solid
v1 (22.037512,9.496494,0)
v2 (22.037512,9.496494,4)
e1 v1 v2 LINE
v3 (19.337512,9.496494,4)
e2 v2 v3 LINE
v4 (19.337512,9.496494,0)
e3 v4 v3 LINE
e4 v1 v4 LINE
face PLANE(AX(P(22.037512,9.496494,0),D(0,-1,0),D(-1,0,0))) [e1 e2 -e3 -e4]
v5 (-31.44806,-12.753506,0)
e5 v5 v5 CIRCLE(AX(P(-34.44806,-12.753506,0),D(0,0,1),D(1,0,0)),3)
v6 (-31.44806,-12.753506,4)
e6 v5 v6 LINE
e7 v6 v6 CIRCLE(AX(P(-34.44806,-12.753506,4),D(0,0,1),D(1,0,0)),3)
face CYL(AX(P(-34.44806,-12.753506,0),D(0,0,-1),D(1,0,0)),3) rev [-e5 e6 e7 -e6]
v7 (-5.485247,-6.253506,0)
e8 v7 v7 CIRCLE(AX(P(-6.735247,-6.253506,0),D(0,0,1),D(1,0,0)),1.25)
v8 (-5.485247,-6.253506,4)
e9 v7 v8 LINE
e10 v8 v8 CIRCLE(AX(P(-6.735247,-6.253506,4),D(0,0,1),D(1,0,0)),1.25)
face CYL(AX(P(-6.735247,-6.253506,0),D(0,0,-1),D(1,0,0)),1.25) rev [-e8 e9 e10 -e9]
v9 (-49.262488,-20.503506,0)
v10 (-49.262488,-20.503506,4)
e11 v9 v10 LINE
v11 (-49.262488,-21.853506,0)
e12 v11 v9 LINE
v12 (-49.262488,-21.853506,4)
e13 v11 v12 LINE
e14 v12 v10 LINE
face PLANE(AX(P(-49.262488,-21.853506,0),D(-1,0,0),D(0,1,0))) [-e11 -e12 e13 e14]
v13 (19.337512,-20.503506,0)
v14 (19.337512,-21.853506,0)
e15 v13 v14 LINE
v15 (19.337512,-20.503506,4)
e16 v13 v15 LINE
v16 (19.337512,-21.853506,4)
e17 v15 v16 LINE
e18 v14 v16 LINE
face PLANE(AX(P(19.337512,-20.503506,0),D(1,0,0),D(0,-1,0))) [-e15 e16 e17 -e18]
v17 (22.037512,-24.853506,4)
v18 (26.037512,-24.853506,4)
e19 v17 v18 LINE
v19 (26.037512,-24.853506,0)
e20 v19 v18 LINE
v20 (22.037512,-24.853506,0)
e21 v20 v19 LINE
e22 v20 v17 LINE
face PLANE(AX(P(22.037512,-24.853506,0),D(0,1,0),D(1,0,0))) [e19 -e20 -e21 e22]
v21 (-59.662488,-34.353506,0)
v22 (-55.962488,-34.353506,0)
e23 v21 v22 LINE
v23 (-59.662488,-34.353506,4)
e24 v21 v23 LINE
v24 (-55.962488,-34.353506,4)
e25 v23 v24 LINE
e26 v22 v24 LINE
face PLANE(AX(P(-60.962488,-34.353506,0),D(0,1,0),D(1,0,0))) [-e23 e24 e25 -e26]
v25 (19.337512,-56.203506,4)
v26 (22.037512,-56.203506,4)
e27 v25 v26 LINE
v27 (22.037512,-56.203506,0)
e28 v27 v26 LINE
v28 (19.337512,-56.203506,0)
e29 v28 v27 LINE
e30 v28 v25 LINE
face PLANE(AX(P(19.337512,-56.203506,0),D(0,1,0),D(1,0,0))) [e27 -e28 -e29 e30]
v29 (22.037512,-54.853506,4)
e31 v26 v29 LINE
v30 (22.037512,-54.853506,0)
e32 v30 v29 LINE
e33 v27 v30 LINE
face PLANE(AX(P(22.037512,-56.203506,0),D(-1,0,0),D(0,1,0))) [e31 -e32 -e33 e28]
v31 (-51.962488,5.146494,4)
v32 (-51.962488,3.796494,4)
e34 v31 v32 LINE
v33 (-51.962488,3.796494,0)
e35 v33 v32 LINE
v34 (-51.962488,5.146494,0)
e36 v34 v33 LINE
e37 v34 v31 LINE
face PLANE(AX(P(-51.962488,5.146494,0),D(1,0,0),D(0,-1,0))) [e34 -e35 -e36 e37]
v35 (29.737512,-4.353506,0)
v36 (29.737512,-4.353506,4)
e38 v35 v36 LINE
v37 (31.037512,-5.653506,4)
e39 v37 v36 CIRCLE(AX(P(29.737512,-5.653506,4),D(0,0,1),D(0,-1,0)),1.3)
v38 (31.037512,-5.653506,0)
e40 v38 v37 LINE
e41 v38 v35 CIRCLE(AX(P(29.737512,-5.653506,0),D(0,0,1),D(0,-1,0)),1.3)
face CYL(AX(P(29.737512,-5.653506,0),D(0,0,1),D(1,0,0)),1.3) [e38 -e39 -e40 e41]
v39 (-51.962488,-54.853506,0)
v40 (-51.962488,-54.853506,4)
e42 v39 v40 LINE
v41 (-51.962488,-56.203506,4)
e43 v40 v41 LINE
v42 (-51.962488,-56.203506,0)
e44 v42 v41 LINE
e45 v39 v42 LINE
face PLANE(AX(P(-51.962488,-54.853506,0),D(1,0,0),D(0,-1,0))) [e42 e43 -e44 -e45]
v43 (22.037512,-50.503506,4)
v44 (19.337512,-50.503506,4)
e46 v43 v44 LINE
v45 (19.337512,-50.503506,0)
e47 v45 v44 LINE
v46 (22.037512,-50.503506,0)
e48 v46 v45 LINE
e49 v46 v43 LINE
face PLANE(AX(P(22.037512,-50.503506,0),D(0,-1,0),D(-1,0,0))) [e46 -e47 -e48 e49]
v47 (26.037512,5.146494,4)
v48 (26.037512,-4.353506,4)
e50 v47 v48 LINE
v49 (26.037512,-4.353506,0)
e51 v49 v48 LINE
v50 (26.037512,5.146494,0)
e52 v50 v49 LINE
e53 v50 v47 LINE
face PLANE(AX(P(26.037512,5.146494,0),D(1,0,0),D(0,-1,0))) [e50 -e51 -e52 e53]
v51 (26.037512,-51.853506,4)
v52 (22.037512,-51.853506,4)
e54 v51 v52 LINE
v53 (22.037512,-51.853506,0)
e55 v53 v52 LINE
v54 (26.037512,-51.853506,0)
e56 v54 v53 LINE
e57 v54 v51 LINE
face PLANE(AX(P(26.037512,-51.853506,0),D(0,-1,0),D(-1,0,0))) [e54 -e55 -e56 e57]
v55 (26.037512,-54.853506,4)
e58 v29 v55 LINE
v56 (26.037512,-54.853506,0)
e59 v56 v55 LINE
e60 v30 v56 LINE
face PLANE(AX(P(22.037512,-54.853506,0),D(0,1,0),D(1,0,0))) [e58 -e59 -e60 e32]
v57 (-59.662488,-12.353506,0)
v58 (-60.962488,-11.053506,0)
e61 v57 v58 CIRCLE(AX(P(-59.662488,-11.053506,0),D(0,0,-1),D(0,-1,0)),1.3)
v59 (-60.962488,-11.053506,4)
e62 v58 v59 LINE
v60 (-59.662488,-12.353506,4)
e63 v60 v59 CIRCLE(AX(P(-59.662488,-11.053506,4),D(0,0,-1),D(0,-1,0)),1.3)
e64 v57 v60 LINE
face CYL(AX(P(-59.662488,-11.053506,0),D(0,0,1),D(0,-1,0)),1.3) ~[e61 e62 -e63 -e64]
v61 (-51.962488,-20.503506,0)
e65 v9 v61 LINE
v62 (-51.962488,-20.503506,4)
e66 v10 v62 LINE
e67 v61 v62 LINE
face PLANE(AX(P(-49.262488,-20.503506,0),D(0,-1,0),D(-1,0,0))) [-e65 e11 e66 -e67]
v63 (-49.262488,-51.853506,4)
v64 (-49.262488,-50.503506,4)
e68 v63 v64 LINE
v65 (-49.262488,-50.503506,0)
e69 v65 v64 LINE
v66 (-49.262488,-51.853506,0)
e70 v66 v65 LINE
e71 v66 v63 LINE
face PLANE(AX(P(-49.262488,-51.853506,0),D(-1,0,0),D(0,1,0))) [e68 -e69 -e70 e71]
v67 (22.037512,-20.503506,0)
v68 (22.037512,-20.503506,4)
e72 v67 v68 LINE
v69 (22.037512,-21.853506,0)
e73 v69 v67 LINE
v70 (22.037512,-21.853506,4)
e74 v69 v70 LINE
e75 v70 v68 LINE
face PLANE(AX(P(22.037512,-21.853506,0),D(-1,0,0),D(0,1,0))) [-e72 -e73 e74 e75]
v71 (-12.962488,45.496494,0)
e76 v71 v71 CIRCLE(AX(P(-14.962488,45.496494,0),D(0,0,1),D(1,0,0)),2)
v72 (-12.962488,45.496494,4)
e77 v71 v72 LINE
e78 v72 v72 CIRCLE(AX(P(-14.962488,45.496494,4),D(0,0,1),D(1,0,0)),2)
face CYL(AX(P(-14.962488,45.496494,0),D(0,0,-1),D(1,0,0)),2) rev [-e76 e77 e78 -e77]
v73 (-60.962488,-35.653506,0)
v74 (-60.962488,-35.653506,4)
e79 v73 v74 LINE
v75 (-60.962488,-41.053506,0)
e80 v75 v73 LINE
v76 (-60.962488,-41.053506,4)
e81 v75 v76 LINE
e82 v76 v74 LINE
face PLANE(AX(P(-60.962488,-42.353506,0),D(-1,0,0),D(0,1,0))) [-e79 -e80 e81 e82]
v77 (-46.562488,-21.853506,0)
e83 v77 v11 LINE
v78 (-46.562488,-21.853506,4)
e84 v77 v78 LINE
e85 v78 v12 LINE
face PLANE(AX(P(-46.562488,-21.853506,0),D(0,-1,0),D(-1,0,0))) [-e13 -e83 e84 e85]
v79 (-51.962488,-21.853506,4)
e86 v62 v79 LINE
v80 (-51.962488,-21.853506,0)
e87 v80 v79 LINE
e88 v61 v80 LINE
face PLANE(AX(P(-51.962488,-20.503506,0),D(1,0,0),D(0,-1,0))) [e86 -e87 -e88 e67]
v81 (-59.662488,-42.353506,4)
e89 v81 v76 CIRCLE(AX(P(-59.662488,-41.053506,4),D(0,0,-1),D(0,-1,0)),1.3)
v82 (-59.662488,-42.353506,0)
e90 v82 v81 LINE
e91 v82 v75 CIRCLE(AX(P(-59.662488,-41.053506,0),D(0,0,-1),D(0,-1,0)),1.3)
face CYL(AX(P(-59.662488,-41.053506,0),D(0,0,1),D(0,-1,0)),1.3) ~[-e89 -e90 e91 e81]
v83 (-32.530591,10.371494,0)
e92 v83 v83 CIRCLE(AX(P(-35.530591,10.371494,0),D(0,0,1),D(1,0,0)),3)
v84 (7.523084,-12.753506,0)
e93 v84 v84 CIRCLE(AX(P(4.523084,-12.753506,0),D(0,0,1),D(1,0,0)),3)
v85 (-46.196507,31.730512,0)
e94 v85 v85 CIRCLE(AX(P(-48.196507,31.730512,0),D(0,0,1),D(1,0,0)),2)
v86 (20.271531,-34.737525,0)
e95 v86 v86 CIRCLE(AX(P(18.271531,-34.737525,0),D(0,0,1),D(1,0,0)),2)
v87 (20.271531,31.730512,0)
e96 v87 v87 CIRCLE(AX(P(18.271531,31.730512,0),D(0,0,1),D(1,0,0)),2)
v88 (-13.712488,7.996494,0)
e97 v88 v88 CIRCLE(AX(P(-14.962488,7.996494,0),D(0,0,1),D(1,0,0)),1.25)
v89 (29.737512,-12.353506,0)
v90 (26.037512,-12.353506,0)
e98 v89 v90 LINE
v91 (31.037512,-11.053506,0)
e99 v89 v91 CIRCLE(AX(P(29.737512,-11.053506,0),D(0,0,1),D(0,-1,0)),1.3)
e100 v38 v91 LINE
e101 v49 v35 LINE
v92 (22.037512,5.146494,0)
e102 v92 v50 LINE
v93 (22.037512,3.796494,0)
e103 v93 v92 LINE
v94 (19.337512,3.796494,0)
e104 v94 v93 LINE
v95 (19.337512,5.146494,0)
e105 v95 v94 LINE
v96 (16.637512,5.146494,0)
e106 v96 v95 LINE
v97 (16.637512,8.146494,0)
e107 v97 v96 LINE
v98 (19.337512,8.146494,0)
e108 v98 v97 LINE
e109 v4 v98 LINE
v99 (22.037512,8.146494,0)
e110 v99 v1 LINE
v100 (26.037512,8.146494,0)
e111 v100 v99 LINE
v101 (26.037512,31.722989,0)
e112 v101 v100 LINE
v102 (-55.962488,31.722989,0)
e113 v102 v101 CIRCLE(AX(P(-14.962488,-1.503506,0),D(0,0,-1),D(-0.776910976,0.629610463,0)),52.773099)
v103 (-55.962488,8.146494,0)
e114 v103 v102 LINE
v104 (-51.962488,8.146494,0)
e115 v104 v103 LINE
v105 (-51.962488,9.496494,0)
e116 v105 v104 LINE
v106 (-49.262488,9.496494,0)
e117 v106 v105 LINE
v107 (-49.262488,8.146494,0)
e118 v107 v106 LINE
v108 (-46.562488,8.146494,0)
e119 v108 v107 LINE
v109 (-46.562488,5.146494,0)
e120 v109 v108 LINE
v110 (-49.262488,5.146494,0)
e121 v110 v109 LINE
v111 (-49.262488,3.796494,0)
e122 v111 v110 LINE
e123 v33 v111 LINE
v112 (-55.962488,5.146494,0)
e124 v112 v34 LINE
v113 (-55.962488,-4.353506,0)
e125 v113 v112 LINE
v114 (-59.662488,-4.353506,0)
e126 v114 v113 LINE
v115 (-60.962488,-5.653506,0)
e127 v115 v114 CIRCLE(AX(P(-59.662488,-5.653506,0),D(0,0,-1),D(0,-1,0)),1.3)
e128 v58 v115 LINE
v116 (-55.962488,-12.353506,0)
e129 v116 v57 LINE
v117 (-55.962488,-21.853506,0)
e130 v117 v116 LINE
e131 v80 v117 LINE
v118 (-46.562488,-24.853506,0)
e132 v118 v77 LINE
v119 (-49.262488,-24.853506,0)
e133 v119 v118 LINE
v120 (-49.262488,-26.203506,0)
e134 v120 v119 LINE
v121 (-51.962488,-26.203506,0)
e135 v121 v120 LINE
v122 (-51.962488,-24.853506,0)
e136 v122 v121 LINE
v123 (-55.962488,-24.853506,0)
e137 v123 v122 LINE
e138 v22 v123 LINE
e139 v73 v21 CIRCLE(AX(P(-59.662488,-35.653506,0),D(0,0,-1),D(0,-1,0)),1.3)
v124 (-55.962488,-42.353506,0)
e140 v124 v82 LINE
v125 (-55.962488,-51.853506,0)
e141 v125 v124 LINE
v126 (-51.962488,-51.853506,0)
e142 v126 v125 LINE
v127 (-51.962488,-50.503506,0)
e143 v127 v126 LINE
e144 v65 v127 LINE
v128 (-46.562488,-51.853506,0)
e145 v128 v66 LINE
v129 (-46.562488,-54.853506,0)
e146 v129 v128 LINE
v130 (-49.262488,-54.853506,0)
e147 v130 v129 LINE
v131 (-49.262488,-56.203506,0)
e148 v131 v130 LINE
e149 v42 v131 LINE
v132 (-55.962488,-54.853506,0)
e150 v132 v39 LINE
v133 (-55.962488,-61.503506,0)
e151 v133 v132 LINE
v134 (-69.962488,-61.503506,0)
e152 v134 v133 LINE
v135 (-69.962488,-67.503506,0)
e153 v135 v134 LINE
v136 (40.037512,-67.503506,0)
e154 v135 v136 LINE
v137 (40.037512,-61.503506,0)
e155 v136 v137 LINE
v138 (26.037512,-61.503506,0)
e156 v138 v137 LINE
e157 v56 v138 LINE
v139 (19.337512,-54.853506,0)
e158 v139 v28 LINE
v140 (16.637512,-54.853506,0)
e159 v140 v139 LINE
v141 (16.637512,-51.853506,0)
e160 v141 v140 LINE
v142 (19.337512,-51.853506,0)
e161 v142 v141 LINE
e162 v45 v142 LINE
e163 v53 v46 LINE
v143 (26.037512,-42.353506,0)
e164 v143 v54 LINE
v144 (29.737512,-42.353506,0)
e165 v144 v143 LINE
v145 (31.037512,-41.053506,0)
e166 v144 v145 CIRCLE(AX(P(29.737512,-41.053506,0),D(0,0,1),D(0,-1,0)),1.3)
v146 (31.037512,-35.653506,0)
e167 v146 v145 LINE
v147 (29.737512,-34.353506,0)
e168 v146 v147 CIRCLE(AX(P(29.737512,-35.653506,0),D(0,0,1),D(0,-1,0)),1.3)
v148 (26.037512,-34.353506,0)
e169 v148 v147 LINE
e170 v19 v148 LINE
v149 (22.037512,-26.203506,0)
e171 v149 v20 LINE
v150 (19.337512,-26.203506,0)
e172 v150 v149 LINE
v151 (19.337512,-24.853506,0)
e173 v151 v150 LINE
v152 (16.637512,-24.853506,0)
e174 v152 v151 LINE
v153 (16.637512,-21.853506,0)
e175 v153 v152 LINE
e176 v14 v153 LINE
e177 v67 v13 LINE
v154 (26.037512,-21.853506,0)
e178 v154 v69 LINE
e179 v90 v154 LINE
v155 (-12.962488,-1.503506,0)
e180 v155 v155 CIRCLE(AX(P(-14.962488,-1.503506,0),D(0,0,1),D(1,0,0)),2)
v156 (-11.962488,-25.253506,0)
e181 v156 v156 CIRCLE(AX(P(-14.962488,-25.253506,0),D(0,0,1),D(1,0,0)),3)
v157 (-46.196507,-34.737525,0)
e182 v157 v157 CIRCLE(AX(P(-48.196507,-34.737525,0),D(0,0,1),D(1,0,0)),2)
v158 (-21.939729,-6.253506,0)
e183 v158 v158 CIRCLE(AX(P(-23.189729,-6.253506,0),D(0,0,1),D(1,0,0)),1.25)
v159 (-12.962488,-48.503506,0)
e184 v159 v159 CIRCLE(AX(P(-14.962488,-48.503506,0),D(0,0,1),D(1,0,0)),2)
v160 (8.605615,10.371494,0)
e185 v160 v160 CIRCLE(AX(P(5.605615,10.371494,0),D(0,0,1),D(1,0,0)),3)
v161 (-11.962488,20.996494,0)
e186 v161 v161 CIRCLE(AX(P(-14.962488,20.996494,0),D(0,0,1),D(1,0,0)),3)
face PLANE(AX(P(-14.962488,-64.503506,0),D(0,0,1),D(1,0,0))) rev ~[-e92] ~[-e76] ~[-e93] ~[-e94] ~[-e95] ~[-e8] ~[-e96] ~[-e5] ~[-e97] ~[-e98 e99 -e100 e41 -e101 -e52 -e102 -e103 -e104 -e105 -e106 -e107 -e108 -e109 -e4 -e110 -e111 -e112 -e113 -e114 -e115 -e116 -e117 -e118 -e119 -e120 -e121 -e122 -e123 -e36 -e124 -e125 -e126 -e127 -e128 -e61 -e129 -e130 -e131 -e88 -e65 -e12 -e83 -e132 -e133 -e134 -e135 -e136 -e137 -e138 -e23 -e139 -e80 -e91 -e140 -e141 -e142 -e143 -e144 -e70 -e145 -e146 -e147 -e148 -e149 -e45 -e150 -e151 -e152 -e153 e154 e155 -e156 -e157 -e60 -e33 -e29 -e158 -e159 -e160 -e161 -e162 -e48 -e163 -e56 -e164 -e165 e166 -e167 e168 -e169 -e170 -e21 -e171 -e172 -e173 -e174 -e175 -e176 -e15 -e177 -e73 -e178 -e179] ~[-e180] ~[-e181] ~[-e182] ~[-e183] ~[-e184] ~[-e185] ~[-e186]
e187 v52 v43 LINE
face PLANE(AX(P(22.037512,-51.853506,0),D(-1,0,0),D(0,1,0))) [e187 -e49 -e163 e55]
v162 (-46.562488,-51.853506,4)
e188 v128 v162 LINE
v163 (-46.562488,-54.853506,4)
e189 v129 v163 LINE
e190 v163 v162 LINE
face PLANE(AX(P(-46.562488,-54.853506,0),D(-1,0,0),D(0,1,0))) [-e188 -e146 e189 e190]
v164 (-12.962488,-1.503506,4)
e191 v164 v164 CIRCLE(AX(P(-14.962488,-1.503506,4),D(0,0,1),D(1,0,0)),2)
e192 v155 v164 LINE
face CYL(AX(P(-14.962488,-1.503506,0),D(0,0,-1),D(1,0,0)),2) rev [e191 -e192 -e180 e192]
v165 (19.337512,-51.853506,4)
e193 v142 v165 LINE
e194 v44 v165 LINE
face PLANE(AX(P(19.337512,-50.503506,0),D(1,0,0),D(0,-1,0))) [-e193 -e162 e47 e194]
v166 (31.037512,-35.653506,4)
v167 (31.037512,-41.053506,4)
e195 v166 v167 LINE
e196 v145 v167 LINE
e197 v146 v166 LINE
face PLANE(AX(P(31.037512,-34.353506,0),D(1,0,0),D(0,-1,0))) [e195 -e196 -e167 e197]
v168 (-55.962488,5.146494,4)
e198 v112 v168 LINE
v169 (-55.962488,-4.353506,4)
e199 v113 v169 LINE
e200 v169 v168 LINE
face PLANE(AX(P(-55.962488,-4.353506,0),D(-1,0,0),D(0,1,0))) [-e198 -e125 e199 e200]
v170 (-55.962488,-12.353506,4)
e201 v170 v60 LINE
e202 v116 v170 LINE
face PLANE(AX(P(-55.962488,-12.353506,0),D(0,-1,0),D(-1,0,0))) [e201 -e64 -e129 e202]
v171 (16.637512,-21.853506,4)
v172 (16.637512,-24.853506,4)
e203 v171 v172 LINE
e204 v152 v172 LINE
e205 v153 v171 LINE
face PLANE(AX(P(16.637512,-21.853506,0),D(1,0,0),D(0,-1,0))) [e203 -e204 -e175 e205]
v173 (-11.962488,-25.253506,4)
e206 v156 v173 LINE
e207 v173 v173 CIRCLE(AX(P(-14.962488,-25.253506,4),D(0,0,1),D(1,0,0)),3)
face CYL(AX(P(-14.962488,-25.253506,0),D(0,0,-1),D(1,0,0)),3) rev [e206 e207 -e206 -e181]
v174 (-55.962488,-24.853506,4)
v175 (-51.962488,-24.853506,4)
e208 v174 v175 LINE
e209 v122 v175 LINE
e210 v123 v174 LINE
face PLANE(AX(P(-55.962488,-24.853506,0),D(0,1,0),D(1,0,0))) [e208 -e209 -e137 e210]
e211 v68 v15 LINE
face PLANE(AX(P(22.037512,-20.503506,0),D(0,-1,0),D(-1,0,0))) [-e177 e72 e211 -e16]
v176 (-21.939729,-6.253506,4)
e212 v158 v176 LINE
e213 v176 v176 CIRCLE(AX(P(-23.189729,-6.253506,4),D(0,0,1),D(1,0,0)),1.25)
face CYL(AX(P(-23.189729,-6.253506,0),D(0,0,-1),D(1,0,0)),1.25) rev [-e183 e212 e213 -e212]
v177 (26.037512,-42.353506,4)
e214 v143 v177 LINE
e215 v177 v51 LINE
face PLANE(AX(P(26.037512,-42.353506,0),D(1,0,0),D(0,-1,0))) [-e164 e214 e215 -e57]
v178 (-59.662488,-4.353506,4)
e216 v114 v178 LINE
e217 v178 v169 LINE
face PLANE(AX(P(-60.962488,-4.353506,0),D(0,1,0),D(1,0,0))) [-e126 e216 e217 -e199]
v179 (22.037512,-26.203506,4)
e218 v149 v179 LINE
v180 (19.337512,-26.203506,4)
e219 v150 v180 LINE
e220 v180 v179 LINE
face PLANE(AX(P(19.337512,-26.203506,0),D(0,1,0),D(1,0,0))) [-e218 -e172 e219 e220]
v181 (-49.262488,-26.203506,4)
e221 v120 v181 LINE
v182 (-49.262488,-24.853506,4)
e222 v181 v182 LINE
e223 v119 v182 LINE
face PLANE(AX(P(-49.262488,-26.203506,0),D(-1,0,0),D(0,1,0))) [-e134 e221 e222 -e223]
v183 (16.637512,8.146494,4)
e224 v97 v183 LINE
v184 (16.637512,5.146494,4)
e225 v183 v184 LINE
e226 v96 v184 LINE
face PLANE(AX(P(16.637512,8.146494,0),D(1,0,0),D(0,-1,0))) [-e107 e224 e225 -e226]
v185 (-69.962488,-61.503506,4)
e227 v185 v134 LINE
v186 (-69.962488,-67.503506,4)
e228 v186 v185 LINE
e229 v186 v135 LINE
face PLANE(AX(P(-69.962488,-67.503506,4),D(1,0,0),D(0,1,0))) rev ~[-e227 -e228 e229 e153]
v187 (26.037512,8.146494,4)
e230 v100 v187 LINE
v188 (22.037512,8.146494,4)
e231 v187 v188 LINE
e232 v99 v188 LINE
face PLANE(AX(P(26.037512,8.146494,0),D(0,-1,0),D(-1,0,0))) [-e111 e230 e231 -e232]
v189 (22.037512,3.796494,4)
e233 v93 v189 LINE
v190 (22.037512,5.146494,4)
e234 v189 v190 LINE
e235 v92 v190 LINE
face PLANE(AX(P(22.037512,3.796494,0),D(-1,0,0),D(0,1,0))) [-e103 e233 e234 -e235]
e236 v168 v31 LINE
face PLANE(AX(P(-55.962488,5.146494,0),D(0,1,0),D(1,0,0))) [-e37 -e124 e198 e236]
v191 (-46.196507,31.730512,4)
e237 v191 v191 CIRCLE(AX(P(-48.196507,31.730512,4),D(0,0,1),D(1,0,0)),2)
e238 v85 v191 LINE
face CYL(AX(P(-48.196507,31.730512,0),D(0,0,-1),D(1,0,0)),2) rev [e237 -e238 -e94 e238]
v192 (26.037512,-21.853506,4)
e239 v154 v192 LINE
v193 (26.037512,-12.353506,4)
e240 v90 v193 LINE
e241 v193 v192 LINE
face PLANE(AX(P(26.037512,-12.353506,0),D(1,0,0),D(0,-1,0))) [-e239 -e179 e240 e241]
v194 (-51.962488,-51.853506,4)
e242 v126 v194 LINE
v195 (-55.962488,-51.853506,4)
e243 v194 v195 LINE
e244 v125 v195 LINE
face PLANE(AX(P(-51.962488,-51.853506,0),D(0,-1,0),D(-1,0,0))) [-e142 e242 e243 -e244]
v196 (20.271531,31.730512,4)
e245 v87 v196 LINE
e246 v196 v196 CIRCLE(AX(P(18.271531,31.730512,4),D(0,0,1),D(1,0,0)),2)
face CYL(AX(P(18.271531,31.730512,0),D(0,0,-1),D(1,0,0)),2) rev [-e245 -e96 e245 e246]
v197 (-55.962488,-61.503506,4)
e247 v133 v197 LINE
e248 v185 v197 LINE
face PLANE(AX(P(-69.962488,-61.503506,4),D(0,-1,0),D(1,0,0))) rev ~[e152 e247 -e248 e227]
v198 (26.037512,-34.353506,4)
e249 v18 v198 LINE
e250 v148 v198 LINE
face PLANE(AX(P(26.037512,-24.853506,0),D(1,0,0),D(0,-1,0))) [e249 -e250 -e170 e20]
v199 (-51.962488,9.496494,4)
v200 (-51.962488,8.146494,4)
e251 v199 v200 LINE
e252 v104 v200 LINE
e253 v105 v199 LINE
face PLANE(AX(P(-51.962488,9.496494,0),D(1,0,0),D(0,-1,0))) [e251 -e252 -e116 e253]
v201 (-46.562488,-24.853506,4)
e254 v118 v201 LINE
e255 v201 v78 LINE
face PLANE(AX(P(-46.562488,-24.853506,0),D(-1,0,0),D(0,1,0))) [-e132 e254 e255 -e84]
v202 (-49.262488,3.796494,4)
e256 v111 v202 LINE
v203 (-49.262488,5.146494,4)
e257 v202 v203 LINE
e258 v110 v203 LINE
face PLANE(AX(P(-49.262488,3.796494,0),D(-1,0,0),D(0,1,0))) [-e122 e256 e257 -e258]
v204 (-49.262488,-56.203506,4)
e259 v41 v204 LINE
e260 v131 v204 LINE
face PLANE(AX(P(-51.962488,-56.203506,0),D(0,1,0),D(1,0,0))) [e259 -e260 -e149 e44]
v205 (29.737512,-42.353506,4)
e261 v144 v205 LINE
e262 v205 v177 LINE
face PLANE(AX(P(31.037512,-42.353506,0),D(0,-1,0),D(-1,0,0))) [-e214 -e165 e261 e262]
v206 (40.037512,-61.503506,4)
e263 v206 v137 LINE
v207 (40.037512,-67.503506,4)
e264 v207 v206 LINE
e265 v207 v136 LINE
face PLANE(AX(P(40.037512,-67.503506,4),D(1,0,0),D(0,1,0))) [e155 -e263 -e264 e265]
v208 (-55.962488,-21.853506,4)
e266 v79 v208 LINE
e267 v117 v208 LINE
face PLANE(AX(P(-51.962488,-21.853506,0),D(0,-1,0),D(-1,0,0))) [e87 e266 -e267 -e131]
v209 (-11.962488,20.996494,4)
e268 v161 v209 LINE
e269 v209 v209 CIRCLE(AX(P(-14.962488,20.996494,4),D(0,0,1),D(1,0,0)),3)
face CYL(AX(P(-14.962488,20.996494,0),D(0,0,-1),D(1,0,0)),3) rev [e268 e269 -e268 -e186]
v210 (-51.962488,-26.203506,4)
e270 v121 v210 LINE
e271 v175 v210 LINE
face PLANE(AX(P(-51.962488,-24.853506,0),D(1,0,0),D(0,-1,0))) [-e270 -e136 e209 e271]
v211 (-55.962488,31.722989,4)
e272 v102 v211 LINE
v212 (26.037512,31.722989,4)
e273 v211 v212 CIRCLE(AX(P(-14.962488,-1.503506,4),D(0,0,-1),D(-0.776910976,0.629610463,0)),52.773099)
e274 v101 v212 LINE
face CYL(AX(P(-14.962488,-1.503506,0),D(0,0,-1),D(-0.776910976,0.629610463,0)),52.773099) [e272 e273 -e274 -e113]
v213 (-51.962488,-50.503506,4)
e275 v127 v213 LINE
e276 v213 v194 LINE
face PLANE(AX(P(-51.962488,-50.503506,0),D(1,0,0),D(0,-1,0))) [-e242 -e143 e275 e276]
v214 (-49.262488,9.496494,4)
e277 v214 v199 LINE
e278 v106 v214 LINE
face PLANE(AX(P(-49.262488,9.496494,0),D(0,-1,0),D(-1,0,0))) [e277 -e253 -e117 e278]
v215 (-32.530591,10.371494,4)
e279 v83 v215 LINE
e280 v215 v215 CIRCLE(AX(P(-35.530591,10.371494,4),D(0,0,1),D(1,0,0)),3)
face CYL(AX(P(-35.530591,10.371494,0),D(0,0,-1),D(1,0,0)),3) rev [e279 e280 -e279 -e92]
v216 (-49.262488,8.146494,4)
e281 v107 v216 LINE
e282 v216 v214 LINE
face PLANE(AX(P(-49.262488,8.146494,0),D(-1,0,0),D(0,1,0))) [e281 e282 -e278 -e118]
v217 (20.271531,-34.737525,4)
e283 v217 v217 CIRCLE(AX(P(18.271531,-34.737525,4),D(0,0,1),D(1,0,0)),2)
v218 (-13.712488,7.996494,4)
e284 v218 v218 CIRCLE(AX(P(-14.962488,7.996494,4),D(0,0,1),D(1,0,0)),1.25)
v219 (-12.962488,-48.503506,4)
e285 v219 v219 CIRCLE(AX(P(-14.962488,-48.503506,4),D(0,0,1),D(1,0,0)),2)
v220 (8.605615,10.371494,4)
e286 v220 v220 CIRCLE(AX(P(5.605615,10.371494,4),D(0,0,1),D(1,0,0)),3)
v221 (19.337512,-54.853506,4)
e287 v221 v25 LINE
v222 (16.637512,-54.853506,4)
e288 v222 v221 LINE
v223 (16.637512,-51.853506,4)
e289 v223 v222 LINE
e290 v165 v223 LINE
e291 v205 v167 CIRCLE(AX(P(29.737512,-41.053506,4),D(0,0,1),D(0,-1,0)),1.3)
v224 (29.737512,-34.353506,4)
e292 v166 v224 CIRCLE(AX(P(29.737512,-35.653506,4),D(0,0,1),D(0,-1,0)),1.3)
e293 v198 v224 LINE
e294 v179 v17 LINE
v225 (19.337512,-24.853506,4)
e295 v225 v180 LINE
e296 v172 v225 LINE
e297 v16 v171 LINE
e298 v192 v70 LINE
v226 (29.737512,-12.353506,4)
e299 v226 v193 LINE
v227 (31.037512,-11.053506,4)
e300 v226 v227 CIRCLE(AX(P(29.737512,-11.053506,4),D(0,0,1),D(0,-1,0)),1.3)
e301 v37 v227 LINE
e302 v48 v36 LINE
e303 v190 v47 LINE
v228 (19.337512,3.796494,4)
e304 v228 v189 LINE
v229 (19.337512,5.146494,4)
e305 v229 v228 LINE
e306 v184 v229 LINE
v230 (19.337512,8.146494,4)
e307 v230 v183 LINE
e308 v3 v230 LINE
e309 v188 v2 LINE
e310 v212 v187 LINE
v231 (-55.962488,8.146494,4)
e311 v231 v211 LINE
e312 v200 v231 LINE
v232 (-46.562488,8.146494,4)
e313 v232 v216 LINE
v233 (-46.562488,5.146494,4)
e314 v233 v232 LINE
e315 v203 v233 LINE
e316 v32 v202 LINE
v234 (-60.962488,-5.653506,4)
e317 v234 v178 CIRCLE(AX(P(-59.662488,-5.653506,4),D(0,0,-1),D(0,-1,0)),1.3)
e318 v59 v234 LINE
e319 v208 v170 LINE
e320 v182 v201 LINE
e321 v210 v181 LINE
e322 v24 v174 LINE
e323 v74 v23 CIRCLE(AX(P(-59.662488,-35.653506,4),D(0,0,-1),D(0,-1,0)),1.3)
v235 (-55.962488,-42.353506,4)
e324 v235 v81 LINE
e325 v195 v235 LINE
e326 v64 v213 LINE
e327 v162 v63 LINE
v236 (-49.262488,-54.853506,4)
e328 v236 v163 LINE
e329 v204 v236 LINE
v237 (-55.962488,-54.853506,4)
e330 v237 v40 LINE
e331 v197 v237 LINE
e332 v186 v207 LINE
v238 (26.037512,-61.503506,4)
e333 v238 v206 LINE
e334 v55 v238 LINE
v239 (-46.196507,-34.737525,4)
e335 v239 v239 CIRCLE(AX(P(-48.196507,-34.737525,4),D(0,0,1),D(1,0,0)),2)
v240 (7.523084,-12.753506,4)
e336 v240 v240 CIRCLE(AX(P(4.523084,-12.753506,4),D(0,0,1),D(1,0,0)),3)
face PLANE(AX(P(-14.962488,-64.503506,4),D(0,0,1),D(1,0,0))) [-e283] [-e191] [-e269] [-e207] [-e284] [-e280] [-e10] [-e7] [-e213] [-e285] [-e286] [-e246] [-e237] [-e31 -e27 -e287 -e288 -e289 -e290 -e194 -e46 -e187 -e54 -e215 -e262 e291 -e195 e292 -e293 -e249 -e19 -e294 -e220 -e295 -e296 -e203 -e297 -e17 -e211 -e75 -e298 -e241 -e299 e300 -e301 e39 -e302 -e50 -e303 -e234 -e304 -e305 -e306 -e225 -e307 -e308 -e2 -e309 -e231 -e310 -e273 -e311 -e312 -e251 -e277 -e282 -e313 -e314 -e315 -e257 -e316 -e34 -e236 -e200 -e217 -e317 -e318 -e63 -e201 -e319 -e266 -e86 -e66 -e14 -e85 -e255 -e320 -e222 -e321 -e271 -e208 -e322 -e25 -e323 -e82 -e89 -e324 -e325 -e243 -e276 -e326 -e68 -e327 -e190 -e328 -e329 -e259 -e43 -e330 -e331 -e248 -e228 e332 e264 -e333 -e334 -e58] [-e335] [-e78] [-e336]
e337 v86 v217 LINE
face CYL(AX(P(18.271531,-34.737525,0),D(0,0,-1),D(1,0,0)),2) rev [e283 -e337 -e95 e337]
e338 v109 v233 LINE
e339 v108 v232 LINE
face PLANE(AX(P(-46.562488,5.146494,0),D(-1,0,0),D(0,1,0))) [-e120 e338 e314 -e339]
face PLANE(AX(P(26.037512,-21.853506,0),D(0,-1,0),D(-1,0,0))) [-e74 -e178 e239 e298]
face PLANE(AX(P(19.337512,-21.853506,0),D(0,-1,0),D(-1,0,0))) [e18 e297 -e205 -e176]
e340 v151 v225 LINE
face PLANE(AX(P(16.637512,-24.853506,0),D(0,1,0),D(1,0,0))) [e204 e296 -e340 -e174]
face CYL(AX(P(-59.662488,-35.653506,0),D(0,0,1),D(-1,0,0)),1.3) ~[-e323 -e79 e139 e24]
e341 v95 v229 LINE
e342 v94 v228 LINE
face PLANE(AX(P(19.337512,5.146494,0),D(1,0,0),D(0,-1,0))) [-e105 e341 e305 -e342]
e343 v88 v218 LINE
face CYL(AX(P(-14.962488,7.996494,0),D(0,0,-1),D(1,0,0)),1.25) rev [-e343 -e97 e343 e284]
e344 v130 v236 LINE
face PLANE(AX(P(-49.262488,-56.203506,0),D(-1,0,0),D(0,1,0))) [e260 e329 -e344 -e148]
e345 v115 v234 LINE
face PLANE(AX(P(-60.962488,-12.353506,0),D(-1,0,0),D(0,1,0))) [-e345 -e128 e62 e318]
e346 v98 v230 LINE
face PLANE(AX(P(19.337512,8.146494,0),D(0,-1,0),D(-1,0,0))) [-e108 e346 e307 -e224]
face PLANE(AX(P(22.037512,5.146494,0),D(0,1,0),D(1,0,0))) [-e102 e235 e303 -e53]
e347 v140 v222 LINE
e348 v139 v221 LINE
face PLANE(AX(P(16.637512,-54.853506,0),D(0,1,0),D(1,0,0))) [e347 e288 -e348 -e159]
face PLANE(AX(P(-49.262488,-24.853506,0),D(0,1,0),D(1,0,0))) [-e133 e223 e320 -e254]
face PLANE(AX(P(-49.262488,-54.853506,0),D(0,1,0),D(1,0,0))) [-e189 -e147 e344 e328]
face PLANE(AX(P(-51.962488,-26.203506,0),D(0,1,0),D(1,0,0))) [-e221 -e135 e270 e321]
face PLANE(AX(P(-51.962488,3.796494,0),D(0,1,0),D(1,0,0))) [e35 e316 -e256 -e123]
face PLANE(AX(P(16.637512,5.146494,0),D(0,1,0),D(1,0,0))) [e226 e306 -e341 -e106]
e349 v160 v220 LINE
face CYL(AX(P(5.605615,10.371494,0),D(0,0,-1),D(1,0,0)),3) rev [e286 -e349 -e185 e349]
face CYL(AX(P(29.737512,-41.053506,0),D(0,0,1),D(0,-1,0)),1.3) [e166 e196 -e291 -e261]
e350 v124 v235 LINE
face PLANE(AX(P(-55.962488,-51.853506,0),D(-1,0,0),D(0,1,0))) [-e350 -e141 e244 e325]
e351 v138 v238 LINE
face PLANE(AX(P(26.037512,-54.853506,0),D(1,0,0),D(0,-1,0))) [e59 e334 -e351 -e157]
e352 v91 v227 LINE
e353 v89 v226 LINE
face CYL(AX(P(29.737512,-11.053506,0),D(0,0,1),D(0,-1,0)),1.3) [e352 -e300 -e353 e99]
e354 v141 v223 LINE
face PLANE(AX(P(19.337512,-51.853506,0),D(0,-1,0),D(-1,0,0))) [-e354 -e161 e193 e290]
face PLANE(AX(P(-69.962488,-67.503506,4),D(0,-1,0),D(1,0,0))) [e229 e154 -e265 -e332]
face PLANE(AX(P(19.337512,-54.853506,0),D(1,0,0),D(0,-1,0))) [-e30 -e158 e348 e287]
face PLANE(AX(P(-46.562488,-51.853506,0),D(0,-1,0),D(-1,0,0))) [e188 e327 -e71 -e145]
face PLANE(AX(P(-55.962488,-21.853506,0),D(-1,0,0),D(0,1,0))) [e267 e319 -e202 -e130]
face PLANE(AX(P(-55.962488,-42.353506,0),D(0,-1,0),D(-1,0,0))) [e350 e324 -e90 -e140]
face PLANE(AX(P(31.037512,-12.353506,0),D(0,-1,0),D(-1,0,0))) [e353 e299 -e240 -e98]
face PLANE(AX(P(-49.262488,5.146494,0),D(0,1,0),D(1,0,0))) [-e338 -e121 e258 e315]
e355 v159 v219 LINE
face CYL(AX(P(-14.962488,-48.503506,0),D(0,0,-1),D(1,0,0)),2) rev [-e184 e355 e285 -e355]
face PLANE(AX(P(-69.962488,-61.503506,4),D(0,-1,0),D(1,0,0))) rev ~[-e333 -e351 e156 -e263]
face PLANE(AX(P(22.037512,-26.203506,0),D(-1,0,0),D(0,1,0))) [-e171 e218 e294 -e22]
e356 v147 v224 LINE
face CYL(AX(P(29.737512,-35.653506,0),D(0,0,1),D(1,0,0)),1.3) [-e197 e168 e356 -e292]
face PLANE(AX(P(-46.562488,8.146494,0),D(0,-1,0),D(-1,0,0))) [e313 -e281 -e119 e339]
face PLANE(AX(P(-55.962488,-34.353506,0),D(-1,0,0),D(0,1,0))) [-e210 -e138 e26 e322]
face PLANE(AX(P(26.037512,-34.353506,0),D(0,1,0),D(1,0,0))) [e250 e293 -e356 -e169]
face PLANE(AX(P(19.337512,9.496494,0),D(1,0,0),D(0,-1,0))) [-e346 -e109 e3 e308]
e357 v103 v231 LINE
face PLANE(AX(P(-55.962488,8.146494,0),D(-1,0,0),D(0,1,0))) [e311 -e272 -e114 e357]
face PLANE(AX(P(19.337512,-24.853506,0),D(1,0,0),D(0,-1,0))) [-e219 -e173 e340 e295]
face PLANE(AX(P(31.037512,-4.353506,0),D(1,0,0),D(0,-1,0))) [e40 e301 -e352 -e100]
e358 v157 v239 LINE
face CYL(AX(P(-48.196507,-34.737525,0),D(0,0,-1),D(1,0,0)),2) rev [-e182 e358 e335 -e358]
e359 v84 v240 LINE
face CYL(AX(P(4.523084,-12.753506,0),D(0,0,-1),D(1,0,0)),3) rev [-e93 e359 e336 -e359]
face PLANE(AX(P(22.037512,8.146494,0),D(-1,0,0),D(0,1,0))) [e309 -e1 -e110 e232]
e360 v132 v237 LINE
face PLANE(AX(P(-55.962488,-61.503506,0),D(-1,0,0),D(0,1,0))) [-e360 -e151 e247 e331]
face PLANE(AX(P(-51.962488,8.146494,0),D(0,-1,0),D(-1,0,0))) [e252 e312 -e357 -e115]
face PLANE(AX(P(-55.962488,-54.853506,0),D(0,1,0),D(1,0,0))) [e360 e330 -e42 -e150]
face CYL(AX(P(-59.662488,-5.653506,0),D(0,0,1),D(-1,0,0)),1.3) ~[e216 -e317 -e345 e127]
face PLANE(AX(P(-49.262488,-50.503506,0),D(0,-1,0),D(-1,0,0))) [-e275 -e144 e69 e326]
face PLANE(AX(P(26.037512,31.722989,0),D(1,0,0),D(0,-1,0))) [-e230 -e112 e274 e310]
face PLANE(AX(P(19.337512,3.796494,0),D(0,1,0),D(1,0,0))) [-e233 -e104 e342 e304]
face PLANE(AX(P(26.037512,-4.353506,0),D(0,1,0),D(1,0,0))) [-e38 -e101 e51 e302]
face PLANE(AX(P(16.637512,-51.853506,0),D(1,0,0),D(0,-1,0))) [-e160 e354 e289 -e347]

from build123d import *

# Parameters (mm, degrees)
SKETCH_1_R      = 3
SKETCH_1_R_2    = 2
SKETCH_1_R_3    = 1.25
EXTRUDE_2_DEPTH = 4
SKETCH_4_W      = 110
SKETCH_4_H      = 6
EXTRUDE_3_DEPTH = 4
FILLET_1_R      = 1.3


with BuildPart() as part:
    # 草图1 → 凸台-拉伸2 (new body)
    with BuildSketch(Plane.XY):
        with BuildLine():
            Line((26.037512023, -61.503506411), (-55.962487977, -61.503506411))
            Line((-55.962487977, -61.503506411), (-55.962487977, -54.853506411))
            Line((-55.962487977, -54.853506411), (-51.962487977, -54.853506411))
            Line((-51.962487977, -54.853506411), (-51.962487977, -56.203506411))
            Line((-51.962487977, -56.203506411), (-49.262487977, -56.203506411))
            Line((-49.262487977, -56.203506411), (-49.262487977, -54.853506411))
            Line((-49.262487977, -54.853506411), (-46.562487977, -54.853506411))
            Line((-46.562487977, -54.853506411), (-46.562487977, -51.853506411))
            Line((-46.562487977, -51.853506411), (-49.262487977, -51.853506411))
            Line((-49.262487977, -51.853506411), (-49.262487977, -50.503506411))
            Line((-49.262487977, -50.503506411), (-51.962487977, -50.503506411))
            Line((-51.962487977, -50.503506411), (-51.962487977, -51.853506411))
            Line((-51.962487977, -51.853506411), (-55.962487977, -51.853506411))
            Line((-55.962487977, -51.853506411), (-55.962487977, -42.353506411))
            Line((-55.962487977, -42.353506411), (-60.962487977, -42.353506411))
            Line((-60.962487977, -42.353506411), (-60.962487977, -34.353506411))
            Line((-60.962487977, -34.353506411), (-55.962487977, -34.353506411))
            Line((-55.962487977, -34.353506411), (-55.962487977, -24.853506411))
            Line((-55.962487977, -24.853506411), (-51.962487977, -24.853506411))
            Line((-51.962487977, -24.853506411), (-51.962487977, -26.203506411))
            Line((-51.962487977, -26.203506411), (-49.262487977, -26.203506411))
            Line((-49.262487977, -26.203506411), (-49.262487977, -24.853506411))
            Line((-49.262487977, -24.853506411), (-46.562487977, -24.853506411))
            Line((-46.562487977, -24.853506411), (-46.562487977, -21.853506411))
            Line((-46.562487977, -21.853506411), (-49.262487977, -21.853506411))
            Line((-49.262487977, -21.853506411), (-49.262487977, -20.503506411))
            Line((-49.262487977, -20.503506411), (-51.962487977, -20.503506411))
            Line((-51.962487977, -20.503506411), (-51.962487977, -21.853506411))
            Line((-51.962487977, -21.853506411), (-55.962487977, -21.853506411))
            Line((-55.962487977, -21.853506411), (-55.962487977, -12.353506411))
            Line((-55.962487977, -12.353506411), (-60.962487977, -12.353506411))
            Line((-60.962487977, -12.353506411), (-60.962487977, -4.353506411))
            Line((-60.962487977, -4.353506411), (-55.962487977, -4.353506411))
            Line((-55.962487977, -4.353506411), (-55.962487977, 5.146493589))
            Line((-55.962487977, 5.146493589), (-51.962487977, 5.146493589))
            Line((-51.962487977, 5.146493589), (-51.962487977, 3.796493589))
            Line((-51.962487977, 3.796493589), (-49.262487977, 3.796493589))
            Line((-49.262487977, 3.796493589), (-49.262487977, 5.146493589))
            Line((-49.262487977, 5.146493589), (-46.562487977, 5.146493589))
            Line((-46.562487977, 5.146493589), (-46.562487977, 8.146493589))
            Line((-46.562487977, 8.146493589), (-49.262487977, 8.146493589))
            Line((-49.262487977, 8.146493589), (-49.262487977, 9.496493589))
            Line((-49.262487977, 9.496493589), (-51.962487977, 9.496493589))
            Line((-51.962487977, 9.496493589), (-51.962487977, 8.146493589))
            Line((-51.962487977, 8.146493589), (-55.962487977, 8.146493589))
            Line((-55.962487977, 8.146493589), (-55.962487977, 23.496493589))
            Line((-55.962487977, 23.496493589), (-55.962487977, 31.722989041))
            ThreePointArc((-55.962487977, 31.722989041), (-14.962487977, 51.269592797), (26.037512023, 31.722989041))
            Line((26.037512023, 31.722989041), (26.037512023, 23.496493589))
            Line((26.037512023, 23.496493589), (26.037512023, 8.146493589))
            Line((26.037512023, 8.146493589), (22.037512023, 8.146493589))
            Line((22.037512023, 8.146493589), (22.037512023, 9.496493589))
            Line((22.037512023, 9.496493589), (19.337512023, 9.496493589))
            Line((19.337512023, 9.496493589), (19.337512023, 8.146493589))
            Line((19.337512023, 8.146493589), (16.637512023, 8.146493589))
            Line((16.637512023, 8.146493589), (16.637512023, 5.146493589))
            Line((16.637512023, 5.146493589), (19.337512023, 5.146493589))
            Line((19.337512023, 5.146493589), (19.337512023, 3.796493589))
            Line((19.337512023, 3.796493589), (22.037512023, 3.796493589))
            Line((22.037512023, 3.796493589), (22.037512023, 5.146493589))
            Line((22.037512023, 5.146493589), (26.037512023, 5.146493589))
            Line((26.037512023, 5.146493589), (26.037512023, -4.353506411))
            Line((26.037512023, -4.353506411), (31.037512023, -4.353506411))
            Line((31.037512023, -4.353506411), (31.037512023, -12.353506411))
            Line((31.037512023, -12.353506411), (26.037512023, -12.353506411))
            Line((26.037512023, -12.353506411), (26.037512023, -21.853506411))
            Line((26.037512023, -21.853506411), (22.037512023, -21.853506411))
            Line((22.037512023, -21.853506411), (22.037512023, -20.503506411))
            Line((22.037512023, -20.503506411), (19.337512023, -20.503506411))
            Line((19.337512023, -20.503506411), (19.337512023, -21.853506411))
            Line((19.337512023, -21.853506411), (16.637512023, -21.853506411))
            Line((16.637512023, -21.853506411), (16.637512023, -24.853506411))
            Line((16.637512023, -24.853506411), (19.337512023, -24.853506411))
            Line((19.337512023, -24.853506411), (19.337512023, -26.203506411))
            Line((19.337512023, -26.203506411), (22.037512023, -26.203506411))
            Line((22.037512023, -26.203506411), (22.037512023, -24.853506411))
            Line((22.037512023, -24.853506411), (26.037512023, -24.853506411))
            Line((26.037512023, -24.853506411), (26.037512023, -34.353506411))
            Line((26.037512023, -34.353506411), (31.037512023, -34.353506411))
            Line((31.037512023, -34.353506411), (31.037512023, -42.353506411))
            Line((31.037512023, -42.353506411), (26.037512023, -42.353506411))
            Line((26.037512023, -42.353506411), (26.037512023, -51.853506411))
            Line((26.037512023, -51.853506411), (22.037512023, -51.853506411))
            Line((22.037512023, -51.853506411), (22.037512023, -50.503506411))
            Line((22.037512023, -50.503506411), (19.337512023, -50.503506411))
            Line((19.337512023, -50.503506411), (19.337512023, -51.853506411))
            Line((19.337512023, -51.853506411), (16.637512023, -51.853506411))
            Line((16.637512023, -51.853506411), (16.637512023, -54.853506411))
            Line((16.637512023, -54.853506411), (19.337512023, -54.853506411))
            Line((19.337512023, -54.853506411), (19.337512023, -56.203506411))
            Line((19.337512023, -56.203506411), (22.037512023, -56.203506411))
            Line((22.037512023, -56.203506411), (22.037512023, -54.853506411))
            Line((22.037512023, -54.853506411), (26.037512023, -54.853506411))
            Line((26.037512023, -54.853506411), (26.037512023, -61.503506411))
        make_face()
        with Locations((-14.962487977, -25.253506411)):
            Circle(SKETCH_1_R, mode=Mode.SUBTRACT)
        with Locations((4.523083608, -12.753506411)):
            Circle(SKETCH_1_R, mode=Mode.SUBTRACT)
        with Locations((-14.962487977, -1.503506411)):
            Circle(SKETCH_1_R_2, mode=Mode.SUBTRACT)
        with Locations((-35.530591317, 10.371493589)):
            Circle(SKETCH_1_R, mode=Mode.SUBTRACT)
        with Locations((-34.448059562, -12.753506411)):
            Circle(SKETCH_1_R, mode=Mode.SUBTRACT)
        with Locations((5.605615363, 10.371493589)):
            Circle(SKETCH_1_R, mode=Mode.SUBTRACT)
        with Locations((-14.962487977, 20.996493589)):
            Circle(SKETCH_1_R, mode=Mode.SUBTRACT)
        with Locations((18.271530739, -34.737525127)):
            Circle(SKETCH_1_R_2, mode=Mode.SUBTRACT)
        with Locations((-14.962487977, -48.503506411)):
            Circle(SKETCH_1_R_2, mode=Mode.SUBTRACT)
        with Locations((-48.196506692, -34.737525127)):
            Circle(SKETCH_1_R_2, mode=Mode.SUBTRACT)
        with Locations((-48.196506692, 31.730512305)):
            Circle(SKETCH_1_R_2, mode=Mode.SUBTRACT)
        with Locations((-14.962487977, 45.496493589)):
            Circle(SKETCH_1_R_2, mode=Mode.SUBTRACT)
        with Locations((18.271530739, 31.730512305)):
            Circle(SKETCH_1_R_2, mode=Mode.SUBTRACT)
        with Locations((-14.962487977, 7.996493589)):
            Circle(SKETCH_1_R_3, mode=Mode.SUBTRACT)
        with Locations((-6.735246641, -6.253506411)):
            Circle(SKETCH_1_R_3, mode=Mode.SUBTRACT)
        with Locations((-23.189729313, -6.253506411)):
            Circle(SKETCH_1_R_3, mode=Mode.SUBTRACT)
    extrude(amount=EXTRUDE_2_DEPTH)

    # 草图4 → 凸台-拉伸3 (add)
    with BuildSketch(Plane.XY.offset(4)):
        with Locations((-14.962487977, -64.503506411)):
            Rectangle(SKETCH_4_W, SKETCH_4_H)
    extrude(amount=-EXTRUDE_3_DEPTH)

    # 圆角1
    fillet_1_edges = [part.edges().sort_by_distance(p)[0] for p in [
        (-60.962487977, -42.353506411, 2),
        (-60.962487977, -34.353506411, 2),
        (-60.962487977, -12.353506411, 2),
        (-60.962487977, -4.353506411, 2),
        (31.037512023, -4.353506411, 2),
        (31.037512023, -12.353506411, 2),
        (31.037512023, -34.353506411, 2),
        (31.037512023, -42.353506411, 2),
    ]]
    fillet(fillet_1_edges, radius=FILLET_1_R)


solid = part.part
